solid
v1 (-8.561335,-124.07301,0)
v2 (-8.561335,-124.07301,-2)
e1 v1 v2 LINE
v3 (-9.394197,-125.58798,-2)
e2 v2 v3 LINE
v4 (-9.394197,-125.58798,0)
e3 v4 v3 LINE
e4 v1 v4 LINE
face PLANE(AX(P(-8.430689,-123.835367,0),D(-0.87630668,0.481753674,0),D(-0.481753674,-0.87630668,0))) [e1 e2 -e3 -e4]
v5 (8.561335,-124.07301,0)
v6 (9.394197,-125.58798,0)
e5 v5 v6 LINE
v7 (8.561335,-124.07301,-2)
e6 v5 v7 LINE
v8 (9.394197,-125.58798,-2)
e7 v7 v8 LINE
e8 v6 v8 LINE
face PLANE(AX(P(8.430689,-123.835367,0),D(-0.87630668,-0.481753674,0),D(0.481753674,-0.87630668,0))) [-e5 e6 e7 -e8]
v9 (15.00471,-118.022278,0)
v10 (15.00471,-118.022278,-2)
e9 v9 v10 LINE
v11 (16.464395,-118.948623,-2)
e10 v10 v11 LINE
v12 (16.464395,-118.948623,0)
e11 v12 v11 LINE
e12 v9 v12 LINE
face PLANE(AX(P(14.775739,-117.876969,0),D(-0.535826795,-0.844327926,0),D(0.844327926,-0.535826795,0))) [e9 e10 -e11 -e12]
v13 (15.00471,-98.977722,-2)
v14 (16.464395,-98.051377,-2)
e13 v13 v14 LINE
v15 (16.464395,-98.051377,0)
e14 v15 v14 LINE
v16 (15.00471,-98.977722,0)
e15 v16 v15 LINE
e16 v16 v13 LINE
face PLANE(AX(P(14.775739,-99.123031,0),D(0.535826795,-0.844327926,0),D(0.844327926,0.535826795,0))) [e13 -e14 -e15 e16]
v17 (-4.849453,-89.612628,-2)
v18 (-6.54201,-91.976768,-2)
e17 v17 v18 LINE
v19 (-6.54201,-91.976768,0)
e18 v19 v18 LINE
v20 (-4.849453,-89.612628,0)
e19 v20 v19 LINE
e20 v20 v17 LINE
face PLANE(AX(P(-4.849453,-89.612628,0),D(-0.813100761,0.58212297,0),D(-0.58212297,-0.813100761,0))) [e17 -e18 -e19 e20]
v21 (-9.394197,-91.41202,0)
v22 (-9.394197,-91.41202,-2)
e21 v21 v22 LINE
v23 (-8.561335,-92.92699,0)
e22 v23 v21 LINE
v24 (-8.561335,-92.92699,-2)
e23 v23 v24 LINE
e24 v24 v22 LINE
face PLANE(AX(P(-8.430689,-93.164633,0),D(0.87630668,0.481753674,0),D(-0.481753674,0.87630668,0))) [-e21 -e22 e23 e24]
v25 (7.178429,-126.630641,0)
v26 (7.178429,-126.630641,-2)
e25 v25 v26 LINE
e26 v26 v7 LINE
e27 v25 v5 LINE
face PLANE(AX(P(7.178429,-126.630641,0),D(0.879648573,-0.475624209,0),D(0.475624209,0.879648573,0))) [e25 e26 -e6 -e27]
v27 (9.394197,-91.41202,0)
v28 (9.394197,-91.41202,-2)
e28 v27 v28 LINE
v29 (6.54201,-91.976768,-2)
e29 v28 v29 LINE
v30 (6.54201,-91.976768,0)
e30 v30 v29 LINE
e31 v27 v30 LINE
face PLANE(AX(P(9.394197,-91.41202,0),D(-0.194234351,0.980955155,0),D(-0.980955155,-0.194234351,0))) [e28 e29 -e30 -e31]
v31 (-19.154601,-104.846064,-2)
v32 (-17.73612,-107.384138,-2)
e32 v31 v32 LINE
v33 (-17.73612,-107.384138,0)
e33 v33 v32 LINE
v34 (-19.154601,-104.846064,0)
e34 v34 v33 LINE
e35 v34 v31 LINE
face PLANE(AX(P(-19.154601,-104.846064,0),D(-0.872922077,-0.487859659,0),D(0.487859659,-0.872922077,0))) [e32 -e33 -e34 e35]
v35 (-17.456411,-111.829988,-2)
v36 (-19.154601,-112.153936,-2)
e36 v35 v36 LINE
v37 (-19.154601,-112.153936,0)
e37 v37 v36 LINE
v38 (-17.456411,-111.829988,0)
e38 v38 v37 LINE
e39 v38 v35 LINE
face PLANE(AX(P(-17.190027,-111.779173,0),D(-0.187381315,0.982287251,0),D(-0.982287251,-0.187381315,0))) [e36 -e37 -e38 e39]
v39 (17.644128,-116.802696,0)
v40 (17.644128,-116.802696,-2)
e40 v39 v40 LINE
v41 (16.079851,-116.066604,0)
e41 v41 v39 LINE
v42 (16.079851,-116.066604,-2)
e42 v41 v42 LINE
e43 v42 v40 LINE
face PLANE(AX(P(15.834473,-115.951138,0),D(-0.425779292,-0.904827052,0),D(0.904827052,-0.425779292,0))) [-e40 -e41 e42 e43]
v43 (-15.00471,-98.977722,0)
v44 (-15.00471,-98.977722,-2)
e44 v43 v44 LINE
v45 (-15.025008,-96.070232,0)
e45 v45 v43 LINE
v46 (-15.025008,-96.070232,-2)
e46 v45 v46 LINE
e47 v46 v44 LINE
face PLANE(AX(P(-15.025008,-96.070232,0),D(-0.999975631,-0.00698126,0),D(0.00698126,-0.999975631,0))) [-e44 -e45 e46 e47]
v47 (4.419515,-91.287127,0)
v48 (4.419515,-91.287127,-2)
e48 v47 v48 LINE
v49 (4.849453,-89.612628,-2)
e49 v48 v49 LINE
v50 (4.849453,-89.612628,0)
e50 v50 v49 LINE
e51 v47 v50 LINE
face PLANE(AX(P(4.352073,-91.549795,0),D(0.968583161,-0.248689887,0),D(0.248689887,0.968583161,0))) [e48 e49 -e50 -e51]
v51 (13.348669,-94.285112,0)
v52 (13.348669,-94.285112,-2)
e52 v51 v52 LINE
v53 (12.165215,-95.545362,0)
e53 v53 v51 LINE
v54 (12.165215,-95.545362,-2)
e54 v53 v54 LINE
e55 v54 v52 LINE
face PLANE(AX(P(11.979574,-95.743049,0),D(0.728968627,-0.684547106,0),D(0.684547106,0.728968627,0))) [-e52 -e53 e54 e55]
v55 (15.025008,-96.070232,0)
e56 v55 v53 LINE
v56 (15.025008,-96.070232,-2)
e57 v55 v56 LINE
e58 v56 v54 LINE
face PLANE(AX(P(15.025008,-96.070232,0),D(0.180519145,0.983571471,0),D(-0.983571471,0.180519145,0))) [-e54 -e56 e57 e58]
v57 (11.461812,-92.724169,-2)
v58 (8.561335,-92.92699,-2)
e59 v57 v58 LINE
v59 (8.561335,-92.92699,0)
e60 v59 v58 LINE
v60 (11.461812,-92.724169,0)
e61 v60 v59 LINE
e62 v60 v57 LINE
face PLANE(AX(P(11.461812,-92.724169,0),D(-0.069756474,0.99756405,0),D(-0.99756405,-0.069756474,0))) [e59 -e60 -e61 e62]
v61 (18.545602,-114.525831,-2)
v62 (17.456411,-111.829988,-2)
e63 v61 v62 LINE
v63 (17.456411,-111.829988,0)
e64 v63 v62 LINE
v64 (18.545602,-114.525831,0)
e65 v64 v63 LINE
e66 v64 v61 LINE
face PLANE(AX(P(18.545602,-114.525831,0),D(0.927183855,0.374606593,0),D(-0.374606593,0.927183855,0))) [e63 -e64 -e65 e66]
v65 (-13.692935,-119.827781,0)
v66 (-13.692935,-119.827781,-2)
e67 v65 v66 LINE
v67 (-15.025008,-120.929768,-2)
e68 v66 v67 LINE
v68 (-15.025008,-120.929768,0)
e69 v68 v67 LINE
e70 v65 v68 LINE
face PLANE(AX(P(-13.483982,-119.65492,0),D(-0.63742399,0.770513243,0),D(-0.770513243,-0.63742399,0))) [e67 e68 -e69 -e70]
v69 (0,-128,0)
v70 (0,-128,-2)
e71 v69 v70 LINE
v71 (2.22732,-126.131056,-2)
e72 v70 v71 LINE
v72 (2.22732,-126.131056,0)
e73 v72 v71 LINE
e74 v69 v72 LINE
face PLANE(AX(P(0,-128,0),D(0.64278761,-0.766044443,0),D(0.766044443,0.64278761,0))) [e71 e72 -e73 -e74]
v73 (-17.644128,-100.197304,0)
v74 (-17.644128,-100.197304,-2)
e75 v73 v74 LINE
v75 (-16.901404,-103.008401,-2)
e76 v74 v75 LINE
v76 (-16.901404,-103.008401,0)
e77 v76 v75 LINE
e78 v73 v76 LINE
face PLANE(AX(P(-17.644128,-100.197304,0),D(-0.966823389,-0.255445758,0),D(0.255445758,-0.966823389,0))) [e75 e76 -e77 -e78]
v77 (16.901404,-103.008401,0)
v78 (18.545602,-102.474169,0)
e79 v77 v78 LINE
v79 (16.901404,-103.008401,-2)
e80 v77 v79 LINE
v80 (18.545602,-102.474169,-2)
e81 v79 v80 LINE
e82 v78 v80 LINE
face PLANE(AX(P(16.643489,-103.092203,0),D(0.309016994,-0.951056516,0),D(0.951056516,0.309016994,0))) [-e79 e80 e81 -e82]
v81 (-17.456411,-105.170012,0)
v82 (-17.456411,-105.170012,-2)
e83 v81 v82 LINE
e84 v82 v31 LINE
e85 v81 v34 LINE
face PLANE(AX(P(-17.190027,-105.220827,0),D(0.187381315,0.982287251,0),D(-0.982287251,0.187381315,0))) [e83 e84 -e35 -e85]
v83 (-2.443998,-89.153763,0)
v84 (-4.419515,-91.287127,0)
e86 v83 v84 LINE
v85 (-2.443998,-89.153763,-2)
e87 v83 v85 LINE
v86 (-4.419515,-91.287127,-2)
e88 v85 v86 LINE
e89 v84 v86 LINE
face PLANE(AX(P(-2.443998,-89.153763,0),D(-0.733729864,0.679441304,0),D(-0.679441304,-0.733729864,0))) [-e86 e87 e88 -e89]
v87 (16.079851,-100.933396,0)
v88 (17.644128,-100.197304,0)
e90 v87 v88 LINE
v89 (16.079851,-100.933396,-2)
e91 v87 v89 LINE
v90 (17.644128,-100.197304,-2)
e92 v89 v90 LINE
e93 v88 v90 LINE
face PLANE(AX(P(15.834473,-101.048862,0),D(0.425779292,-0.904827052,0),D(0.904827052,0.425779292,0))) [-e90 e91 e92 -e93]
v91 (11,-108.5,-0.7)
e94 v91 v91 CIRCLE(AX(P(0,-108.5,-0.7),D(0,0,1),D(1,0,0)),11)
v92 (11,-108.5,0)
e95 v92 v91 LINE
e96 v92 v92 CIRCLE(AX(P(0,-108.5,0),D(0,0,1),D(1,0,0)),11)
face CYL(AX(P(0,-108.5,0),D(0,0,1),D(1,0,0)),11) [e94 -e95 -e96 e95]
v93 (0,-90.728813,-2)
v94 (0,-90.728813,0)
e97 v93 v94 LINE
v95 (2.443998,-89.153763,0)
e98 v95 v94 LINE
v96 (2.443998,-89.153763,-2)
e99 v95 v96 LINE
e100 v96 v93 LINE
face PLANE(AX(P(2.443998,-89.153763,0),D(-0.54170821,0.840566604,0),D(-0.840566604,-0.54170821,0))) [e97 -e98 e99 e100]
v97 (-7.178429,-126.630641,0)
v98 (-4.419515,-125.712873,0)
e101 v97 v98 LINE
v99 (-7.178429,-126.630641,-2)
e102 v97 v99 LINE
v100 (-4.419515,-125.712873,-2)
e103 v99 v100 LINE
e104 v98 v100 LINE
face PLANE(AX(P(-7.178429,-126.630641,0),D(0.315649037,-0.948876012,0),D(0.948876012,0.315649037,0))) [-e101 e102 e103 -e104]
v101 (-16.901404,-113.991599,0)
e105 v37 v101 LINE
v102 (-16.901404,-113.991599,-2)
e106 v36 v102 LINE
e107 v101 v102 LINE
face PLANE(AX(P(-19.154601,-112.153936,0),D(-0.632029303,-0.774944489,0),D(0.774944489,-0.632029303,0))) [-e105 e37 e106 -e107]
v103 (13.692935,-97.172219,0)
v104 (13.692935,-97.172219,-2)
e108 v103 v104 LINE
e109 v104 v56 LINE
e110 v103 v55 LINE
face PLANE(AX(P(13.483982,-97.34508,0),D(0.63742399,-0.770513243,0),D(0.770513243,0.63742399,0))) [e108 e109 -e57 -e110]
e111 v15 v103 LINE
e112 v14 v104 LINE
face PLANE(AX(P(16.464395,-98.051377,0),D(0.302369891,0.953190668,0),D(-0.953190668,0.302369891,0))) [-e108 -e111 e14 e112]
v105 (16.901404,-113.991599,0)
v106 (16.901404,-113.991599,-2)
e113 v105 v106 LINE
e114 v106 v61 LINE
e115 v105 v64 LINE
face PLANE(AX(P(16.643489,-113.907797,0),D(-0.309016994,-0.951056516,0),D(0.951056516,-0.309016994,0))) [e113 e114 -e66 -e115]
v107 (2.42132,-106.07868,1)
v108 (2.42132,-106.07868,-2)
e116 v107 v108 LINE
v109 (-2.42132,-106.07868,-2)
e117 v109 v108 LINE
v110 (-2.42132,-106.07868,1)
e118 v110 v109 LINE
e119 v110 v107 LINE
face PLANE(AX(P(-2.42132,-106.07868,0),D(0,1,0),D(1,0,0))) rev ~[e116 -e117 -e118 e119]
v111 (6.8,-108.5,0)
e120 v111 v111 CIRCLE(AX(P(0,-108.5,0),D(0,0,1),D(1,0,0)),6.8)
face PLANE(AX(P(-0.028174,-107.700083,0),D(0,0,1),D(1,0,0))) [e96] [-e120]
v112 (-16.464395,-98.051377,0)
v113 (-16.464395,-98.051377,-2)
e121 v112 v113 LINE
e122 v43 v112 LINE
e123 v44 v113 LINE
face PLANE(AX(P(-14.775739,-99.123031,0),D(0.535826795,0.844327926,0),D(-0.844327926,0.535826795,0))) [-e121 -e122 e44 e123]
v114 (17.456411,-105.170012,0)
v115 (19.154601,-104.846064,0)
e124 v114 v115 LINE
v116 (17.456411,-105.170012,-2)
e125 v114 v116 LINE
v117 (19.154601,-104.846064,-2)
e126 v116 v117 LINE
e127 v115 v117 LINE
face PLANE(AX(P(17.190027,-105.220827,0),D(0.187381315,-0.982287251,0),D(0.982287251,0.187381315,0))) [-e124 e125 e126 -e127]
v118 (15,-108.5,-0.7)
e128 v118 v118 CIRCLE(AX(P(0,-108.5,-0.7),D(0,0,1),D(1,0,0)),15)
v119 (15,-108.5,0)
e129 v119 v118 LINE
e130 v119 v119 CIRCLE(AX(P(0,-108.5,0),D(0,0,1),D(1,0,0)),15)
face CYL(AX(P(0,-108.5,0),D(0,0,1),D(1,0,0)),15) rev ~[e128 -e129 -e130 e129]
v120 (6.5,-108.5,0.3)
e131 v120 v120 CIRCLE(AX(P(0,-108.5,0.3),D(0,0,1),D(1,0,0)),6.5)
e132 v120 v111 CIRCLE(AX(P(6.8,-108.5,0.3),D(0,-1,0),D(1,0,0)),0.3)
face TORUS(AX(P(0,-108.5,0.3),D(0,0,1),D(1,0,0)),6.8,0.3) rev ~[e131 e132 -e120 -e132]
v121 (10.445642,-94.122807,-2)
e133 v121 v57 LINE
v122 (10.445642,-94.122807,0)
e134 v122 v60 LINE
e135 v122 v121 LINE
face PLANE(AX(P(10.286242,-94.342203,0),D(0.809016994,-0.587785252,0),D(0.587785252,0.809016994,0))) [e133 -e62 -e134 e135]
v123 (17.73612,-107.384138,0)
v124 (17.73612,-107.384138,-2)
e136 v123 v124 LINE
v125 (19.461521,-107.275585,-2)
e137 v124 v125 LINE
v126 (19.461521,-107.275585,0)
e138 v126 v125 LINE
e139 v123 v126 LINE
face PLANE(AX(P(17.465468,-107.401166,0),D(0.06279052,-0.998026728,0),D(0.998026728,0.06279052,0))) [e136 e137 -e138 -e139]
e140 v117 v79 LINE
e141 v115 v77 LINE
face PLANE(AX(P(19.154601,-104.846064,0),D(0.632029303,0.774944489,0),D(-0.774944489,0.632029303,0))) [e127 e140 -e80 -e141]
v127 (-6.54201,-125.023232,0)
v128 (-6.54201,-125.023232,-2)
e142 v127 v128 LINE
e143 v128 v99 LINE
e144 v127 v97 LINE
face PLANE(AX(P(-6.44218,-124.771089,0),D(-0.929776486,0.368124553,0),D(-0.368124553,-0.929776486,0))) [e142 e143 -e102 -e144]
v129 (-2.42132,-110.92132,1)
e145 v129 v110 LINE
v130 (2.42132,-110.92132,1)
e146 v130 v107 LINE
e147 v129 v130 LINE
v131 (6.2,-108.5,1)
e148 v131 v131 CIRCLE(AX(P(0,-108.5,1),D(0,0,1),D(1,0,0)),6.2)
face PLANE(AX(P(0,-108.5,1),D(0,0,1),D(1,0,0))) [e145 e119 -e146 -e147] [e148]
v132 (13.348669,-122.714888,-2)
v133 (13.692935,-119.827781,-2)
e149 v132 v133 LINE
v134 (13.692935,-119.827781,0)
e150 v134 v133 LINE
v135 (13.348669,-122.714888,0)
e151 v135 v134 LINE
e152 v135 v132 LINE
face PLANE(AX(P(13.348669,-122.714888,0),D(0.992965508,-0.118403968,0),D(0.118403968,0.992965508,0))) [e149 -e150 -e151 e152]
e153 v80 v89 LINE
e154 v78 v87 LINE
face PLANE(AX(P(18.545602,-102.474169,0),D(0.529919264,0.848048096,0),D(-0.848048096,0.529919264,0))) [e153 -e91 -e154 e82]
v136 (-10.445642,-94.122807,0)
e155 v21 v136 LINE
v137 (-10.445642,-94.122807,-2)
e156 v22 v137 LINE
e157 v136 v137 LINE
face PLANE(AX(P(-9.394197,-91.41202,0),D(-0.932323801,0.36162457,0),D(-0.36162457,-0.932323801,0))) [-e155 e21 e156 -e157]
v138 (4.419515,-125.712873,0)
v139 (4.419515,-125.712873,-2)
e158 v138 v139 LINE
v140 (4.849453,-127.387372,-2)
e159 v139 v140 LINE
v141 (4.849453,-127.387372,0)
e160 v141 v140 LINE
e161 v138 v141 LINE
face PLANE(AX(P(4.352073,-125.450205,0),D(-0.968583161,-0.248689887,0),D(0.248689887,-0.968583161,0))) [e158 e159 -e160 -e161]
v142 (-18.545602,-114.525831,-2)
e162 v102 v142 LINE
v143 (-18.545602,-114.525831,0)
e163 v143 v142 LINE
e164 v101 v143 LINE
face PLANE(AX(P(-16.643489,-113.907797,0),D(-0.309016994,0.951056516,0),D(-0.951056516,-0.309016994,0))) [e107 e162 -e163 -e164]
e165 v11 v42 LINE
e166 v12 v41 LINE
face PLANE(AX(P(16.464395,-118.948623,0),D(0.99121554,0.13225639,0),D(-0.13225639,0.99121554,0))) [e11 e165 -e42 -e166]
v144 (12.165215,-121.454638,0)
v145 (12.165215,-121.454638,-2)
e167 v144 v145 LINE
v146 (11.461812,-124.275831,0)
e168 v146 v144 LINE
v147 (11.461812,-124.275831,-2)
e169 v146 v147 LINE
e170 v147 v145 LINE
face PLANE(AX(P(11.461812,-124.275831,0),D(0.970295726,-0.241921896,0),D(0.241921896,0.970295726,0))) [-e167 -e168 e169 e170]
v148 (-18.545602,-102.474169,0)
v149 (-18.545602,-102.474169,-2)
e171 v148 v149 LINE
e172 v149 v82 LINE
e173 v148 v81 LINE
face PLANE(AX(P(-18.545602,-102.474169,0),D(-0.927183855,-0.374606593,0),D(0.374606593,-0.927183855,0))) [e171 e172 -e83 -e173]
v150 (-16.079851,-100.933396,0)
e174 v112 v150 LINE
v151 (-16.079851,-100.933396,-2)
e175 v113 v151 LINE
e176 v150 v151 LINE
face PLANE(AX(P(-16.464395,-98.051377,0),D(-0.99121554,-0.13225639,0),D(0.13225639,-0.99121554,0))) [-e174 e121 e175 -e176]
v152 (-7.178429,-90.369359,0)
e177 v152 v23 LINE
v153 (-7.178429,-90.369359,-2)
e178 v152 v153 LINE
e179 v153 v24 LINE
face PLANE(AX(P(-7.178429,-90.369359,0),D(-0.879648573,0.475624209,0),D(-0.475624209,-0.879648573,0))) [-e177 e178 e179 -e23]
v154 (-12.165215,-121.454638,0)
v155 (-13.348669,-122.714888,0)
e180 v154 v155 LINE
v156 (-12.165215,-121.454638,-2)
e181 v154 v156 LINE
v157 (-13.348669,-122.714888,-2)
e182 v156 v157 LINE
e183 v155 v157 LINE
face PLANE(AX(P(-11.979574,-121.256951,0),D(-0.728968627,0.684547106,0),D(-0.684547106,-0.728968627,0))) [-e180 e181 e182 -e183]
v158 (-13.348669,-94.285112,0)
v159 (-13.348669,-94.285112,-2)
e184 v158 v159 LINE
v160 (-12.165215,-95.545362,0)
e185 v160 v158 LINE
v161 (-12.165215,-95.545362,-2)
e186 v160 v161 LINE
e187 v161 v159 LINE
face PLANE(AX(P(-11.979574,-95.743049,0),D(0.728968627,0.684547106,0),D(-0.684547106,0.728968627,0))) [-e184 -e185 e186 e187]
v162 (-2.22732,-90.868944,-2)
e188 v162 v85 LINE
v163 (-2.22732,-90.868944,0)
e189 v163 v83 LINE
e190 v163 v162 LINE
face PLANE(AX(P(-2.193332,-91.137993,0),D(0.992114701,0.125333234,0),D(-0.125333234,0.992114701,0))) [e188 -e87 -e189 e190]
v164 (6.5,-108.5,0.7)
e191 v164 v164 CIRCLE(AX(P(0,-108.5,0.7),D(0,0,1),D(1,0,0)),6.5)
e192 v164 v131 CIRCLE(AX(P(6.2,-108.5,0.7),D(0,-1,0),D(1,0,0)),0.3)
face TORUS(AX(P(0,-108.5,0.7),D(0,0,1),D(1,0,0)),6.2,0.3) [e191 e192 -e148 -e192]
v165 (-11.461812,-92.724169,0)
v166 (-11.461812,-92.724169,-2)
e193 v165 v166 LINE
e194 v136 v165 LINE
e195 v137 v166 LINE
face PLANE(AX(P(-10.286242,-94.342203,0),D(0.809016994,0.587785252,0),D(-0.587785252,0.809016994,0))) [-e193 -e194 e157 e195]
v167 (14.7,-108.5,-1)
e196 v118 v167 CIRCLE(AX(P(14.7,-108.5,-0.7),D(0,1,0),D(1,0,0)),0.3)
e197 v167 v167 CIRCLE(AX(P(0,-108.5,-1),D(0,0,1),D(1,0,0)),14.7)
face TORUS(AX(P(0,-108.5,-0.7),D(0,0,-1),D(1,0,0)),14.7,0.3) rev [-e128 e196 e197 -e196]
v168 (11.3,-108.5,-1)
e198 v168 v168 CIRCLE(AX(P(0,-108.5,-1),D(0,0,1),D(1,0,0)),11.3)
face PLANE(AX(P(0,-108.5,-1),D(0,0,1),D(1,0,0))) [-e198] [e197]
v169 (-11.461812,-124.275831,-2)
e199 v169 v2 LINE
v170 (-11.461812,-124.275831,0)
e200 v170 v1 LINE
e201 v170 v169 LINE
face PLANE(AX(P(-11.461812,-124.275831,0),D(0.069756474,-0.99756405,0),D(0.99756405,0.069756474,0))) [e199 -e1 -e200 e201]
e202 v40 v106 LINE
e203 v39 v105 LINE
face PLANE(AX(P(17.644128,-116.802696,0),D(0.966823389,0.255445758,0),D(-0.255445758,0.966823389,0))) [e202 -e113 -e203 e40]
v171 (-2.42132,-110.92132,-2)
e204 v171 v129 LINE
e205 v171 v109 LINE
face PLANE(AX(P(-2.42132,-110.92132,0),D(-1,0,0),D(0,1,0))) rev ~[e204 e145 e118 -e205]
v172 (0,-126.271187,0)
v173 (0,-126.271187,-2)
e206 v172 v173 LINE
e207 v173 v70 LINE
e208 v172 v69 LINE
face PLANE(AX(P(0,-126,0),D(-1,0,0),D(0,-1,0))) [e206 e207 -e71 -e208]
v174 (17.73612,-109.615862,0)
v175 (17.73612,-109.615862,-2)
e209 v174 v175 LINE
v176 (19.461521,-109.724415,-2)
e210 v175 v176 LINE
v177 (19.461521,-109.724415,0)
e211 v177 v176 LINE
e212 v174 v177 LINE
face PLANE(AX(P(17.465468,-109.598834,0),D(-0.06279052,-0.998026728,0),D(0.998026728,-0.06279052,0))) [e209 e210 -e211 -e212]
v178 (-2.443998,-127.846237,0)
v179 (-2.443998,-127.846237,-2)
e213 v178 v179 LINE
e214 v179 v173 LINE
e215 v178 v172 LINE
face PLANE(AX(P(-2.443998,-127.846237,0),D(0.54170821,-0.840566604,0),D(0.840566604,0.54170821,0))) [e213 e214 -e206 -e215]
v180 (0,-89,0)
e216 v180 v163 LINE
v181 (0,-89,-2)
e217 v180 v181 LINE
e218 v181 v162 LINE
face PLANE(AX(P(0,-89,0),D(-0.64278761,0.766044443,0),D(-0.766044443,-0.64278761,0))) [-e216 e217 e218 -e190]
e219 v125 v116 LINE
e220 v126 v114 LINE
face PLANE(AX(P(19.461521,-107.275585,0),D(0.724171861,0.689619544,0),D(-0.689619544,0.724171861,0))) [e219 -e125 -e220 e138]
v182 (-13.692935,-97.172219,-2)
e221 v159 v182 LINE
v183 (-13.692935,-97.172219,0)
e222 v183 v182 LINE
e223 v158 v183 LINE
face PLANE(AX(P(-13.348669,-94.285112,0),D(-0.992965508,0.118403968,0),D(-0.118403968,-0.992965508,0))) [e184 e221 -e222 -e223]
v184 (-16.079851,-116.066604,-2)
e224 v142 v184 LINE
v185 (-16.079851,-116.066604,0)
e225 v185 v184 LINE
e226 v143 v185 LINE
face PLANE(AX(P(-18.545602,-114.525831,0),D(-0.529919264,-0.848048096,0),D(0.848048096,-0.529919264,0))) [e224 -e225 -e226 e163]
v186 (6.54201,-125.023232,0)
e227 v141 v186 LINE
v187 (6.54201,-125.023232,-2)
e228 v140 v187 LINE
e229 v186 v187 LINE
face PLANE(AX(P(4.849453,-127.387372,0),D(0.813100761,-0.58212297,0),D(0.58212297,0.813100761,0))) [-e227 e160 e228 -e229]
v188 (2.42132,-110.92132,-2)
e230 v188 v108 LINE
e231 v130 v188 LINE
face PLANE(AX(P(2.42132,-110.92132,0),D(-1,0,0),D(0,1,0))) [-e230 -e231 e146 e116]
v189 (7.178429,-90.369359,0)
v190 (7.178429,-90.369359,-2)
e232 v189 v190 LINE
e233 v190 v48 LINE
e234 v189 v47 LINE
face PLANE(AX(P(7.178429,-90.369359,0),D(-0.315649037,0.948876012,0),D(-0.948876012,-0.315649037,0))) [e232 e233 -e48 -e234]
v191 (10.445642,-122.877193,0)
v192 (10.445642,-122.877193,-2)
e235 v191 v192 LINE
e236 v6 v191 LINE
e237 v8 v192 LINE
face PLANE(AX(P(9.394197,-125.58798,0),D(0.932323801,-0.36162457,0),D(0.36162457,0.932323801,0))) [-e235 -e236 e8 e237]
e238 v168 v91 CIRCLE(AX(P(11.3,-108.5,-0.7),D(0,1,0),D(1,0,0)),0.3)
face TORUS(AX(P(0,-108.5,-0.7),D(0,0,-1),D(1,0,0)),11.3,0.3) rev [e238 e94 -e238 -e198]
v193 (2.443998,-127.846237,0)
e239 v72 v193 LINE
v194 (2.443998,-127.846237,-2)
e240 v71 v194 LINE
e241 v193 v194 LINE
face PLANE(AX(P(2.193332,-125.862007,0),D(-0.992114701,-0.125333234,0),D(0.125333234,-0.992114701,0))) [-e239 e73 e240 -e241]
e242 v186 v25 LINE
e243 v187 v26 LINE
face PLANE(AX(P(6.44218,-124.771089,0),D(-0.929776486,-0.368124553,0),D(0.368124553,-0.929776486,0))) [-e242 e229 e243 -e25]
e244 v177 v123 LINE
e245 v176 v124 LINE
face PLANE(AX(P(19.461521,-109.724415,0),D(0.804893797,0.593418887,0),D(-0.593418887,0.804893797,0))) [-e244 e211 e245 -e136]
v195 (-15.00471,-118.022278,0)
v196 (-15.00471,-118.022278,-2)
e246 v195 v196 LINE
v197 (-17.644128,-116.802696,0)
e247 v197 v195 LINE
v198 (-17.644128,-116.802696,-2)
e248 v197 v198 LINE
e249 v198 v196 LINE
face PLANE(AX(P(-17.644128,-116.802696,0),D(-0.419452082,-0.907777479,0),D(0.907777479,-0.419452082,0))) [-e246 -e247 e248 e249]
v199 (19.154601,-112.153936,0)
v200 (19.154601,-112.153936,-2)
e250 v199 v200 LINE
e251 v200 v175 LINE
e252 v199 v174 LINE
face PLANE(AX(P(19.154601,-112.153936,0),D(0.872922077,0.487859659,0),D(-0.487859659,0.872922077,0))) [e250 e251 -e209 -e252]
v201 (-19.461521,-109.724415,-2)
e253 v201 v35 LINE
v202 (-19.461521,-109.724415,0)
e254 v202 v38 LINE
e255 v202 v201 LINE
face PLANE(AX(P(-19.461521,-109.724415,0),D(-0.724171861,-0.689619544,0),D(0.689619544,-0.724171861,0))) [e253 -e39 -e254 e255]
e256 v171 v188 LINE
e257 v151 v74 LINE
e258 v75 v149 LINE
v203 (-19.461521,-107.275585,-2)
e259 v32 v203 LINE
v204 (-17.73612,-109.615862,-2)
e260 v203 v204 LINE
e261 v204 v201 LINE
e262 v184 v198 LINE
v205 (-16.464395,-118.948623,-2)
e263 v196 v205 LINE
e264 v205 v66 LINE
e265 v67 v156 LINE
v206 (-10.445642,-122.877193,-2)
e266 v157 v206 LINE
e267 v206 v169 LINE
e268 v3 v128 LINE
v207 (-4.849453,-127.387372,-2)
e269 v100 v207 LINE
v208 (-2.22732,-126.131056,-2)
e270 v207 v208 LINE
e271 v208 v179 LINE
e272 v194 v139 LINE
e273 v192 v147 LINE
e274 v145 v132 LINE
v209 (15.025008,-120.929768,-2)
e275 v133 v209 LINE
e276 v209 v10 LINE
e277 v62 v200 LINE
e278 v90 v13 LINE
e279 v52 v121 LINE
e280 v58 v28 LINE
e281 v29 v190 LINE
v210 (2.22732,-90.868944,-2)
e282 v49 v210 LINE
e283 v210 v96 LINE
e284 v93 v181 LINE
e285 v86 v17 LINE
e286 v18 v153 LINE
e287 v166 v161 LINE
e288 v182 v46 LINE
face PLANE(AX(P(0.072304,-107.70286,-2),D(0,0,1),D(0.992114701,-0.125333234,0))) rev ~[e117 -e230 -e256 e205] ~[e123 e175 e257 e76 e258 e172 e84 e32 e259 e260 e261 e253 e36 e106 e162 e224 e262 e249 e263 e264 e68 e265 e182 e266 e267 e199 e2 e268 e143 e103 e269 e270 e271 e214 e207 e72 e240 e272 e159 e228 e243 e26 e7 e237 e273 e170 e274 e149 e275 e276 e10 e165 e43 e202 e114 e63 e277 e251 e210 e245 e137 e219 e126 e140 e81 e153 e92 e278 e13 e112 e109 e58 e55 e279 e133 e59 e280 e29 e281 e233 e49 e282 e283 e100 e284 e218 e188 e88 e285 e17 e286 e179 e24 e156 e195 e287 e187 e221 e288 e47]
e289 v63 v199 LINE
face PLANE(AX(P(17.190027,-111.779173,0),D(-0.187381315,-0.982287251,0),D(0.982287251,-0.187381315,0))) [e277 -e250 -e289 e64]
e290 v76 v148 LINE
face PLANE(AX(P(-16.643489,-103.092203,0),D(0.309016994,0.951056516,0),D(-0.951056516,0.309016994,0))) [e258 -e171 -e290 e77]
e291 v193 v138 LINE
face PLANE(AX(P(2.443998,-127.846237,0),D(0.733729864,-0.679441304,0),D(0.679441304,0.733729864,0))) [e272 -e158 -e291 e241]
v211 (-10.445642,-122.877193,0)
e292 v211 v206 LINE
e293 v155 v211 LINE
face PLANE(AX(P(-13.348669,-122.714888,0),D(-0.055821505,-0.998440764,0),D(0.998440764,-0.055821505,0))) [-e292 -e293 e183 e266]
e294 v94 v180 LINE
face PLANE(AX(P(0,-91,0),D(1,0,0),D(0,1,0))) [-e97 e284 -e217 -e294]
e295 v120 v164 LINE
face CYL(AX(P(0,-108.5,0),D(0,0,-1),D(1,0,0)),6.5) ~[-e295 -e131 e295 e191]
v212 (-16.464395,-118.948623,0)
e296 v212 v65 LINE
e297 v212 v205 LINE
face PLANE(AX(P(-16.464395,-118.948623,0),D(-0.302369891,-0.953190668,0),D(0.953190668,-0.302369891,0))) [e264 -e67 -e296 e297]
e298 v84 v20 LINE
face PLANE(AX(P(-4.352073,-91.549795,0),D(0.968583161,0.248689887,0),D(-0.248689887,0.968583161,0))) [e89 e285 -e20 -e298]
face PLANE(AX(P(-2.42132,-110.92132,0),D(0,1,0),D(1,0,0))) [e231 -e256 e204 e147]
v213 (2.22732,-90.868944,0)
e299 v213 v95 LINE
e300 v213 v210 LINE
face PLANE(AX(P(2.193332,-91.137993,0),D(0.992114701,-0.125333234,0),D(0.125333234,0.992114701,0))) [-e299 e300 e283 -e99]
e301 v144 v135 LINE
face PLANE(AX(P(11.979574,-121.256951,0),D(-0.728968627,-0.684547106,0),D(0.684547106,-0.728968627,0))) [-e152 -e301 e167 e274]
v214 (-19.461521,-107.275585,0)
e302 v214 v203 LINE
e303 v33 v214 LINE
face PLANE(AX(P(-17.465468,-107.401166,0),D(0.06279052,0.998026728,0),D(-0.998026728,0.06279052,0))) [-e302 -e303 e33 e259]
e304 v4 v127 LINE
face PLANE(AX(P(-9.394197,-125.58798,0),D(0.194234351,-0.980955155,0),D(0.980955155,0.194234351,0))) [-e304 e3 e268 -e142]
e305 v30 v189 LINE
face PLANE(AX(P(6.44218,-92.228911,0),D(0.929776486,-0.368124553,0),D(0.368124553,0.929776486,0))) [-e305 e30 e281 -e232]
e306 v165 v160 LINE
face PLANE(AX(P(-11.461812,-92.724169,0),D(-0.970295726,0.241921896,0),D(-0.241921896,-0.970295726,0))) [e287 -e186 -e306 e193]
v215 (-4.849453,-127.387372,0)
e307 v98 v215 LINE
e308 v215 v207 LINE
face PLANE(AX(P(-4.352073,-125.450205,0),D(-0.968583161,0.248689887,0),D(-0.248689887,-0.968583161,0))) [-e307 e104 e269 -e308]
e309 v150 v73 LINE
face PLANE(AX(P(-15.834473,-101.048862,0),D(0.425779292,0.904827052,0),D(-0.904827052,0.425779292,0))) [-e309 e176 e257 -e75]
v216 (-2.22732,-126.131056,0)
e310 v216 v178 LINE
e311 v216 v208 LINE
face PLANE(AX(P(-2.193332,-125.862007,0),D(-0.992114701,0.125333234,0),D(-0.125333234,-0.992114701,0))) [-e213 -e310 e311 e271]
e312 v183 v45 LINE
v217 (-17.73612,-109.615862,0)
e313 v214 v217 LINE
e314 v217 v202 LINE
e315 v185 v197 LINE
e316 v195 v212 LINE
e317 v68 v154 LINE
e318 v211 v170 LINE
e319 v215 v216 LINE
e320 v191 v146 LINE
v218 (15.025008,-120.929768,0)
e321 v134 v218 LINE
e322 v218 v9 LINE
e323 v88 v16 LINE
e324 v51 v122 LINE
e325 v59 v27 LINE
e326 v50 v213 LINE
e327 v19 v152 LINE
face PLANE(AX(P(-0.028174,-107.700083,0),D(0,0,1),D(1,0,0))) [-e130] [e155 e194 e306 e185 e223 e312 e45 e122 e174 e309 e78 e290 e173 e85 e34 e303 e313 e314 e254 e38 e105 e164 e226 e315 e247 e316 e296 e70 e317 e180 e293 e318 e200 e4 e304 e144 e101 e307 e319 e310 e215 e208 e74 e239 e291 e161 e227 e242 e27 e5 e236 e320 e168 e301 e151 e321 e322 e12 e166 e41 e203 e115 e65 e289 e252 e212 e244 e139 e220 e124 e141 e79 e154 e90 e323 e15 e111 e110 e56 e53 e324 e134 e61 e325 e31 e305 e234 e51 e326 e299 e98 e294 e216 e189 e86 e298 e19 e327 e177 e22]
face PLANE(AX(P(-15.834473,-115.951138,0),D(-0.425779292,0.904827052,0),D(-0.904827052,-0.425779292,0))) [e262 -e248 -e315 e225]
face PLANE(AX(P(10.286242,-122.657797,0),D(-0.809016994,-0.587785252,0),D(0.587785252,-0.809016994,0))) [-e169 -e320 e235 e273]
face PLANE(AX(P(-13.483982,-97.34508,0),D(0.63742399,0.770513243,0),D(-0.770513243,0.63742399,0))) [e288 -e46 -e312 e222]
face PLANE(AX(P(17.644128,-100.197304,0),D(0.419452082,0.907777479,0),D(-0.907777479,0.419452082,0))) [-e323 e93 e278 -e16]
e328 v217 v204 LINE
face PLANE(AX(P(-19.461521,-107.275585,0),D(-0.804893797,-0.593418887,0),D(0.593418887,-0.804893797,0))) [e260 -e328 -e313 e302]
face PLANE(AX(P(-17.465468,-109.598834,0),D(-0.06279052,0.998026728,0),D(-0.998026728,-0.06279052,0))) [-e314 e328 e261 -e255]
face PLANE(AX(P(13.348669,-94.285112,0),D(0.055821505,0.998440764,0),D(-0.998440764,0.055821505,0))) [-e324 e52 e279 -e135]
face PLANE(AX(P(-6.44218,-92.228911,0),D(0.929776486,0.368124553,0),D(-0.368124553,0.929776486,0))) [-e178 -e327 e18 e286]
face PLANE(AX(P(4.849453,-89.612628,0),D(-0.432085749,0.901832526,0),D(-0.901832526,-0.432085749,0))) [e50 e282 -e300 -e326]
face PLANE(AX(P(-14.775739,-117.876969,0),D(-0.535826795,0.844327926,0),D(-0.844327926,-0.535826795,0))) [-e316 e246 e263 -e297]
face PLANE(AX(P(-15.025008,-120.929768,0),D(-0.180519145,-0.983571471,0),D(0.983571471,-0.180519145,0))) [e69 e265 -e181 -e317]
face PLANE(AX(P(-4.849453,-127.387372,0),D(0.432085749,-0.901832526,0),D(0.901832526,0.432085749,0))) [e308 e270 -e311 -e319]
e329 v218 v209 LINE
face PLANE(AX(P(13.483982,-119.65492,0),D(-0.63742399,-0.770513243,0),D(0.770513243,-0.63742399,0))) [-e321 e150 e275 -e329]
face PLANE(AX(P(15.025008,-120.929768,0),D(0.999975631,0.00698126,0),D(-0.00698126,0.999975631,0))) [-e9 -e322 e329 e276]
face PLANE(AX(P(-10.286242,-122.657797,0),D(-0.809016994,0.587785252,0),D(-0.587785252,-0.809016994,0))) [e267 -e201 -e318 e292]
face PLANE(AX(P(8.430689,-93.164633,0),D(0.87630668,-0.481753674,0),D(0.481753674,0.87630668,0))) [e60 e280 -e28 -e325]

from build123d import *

# Parameters (mm, degrees)
BOSS_EXTRUDE1_DEPTH = 2
CIRPATTERN1_COUNT   = 50
SKETCH3_W           = 4.842640688
SKETCH3_H           = 4.842640688
CUT_EXTRUDE2_DEPTH  = 3
SKETCH4_R           = 15
SKETCH4_R_2         = 11
CUT_EXTRUDE3_DEPTH  = 1
SKETCH5_R           = 6.5
SKETCH5_W           = 4.842640688
SKETCH5_H           = 4.842640688
BOSS_EXTRUDE2_DEPTH = 1
FILLET1_R           = 0.3


with BuildPart() as part:
    # Sketch2 → Boss-Extrude1 (new body)
    with BuildSketch(Plane.XY):
        with BuildLine():
            Line((0, -91), (0, -89))
            Line((0, -89), (-2.618249578, -91.196972255))
            ThreePointArc((-2.618249578, -91.196972255), (1.312824143, -125.950687458), (0, -91))
        make_face()
    boss_extrude1 = extrude(amount=-BOSS_EXTRUDE1_DEPTH)

    # CirPattern1: Boss-Extrude1 ×50 about axis
    cirpattern1_axis = Axis((0, -108.5, 0), (0, 0, 1))
    for i in range(1, CIRPATTERN1_COUNT):
        add(boss_extrude1.rotate(cirpattern1_axis, i * 360 / CIRPATTERN1_COUNT))

    # Sketch3 → Cut-Extrude2 (cut, through all)
    with BuildSketch(Plane.XY):
        with Locations((0, -108.5)):
            Rectangle(SKETCH3_W, SKETCH3_H)
    extrude(amount=-CUT_EXTRUDE2_DEPTH, mode=Mode.SUBTRACT)

    # Sketch4 → Cut-Extrude3 (cut)
    with BuildSketch(Plane.XY):
        with Locations((0, -108.5)):
            Circle(SKETCH4_R)
        with Locations((0, -108.5)):
            Circle(SKETCH4_R_2, mode=Mode.SUBTRACT)
    extrude(amount=-CUT_EXTRUDE3_DEPTH, mode=Mode.SUBTRACT)

    # Sketch5 → Boss-Extrude2 (add)
    with BuildSketch(Plane.XY):
        with Locations((0, -108.5)):
            Circle(SKETCH5_R)
        with Locations((0, -108.5)):
            Rectangle(SKETCH5_W, SKETCH5_H, mode=Mode.SUBTRACT)
    extrude(amount=BOSS_EXTRUDE2_DEPTH)

    # Fillet1
    fillet1_edges = [part.edges().sort_by_distance(p)[0] for p in [
        (-15, -108.5, -1),
        (-11, -108.5, -1),
        (-6.5, -108.5, 1),
        (-6.5, -108.5, 0),
    ]]
    fillet(fillet1_edges, radius=FILLET1_R)


solid = part.part
